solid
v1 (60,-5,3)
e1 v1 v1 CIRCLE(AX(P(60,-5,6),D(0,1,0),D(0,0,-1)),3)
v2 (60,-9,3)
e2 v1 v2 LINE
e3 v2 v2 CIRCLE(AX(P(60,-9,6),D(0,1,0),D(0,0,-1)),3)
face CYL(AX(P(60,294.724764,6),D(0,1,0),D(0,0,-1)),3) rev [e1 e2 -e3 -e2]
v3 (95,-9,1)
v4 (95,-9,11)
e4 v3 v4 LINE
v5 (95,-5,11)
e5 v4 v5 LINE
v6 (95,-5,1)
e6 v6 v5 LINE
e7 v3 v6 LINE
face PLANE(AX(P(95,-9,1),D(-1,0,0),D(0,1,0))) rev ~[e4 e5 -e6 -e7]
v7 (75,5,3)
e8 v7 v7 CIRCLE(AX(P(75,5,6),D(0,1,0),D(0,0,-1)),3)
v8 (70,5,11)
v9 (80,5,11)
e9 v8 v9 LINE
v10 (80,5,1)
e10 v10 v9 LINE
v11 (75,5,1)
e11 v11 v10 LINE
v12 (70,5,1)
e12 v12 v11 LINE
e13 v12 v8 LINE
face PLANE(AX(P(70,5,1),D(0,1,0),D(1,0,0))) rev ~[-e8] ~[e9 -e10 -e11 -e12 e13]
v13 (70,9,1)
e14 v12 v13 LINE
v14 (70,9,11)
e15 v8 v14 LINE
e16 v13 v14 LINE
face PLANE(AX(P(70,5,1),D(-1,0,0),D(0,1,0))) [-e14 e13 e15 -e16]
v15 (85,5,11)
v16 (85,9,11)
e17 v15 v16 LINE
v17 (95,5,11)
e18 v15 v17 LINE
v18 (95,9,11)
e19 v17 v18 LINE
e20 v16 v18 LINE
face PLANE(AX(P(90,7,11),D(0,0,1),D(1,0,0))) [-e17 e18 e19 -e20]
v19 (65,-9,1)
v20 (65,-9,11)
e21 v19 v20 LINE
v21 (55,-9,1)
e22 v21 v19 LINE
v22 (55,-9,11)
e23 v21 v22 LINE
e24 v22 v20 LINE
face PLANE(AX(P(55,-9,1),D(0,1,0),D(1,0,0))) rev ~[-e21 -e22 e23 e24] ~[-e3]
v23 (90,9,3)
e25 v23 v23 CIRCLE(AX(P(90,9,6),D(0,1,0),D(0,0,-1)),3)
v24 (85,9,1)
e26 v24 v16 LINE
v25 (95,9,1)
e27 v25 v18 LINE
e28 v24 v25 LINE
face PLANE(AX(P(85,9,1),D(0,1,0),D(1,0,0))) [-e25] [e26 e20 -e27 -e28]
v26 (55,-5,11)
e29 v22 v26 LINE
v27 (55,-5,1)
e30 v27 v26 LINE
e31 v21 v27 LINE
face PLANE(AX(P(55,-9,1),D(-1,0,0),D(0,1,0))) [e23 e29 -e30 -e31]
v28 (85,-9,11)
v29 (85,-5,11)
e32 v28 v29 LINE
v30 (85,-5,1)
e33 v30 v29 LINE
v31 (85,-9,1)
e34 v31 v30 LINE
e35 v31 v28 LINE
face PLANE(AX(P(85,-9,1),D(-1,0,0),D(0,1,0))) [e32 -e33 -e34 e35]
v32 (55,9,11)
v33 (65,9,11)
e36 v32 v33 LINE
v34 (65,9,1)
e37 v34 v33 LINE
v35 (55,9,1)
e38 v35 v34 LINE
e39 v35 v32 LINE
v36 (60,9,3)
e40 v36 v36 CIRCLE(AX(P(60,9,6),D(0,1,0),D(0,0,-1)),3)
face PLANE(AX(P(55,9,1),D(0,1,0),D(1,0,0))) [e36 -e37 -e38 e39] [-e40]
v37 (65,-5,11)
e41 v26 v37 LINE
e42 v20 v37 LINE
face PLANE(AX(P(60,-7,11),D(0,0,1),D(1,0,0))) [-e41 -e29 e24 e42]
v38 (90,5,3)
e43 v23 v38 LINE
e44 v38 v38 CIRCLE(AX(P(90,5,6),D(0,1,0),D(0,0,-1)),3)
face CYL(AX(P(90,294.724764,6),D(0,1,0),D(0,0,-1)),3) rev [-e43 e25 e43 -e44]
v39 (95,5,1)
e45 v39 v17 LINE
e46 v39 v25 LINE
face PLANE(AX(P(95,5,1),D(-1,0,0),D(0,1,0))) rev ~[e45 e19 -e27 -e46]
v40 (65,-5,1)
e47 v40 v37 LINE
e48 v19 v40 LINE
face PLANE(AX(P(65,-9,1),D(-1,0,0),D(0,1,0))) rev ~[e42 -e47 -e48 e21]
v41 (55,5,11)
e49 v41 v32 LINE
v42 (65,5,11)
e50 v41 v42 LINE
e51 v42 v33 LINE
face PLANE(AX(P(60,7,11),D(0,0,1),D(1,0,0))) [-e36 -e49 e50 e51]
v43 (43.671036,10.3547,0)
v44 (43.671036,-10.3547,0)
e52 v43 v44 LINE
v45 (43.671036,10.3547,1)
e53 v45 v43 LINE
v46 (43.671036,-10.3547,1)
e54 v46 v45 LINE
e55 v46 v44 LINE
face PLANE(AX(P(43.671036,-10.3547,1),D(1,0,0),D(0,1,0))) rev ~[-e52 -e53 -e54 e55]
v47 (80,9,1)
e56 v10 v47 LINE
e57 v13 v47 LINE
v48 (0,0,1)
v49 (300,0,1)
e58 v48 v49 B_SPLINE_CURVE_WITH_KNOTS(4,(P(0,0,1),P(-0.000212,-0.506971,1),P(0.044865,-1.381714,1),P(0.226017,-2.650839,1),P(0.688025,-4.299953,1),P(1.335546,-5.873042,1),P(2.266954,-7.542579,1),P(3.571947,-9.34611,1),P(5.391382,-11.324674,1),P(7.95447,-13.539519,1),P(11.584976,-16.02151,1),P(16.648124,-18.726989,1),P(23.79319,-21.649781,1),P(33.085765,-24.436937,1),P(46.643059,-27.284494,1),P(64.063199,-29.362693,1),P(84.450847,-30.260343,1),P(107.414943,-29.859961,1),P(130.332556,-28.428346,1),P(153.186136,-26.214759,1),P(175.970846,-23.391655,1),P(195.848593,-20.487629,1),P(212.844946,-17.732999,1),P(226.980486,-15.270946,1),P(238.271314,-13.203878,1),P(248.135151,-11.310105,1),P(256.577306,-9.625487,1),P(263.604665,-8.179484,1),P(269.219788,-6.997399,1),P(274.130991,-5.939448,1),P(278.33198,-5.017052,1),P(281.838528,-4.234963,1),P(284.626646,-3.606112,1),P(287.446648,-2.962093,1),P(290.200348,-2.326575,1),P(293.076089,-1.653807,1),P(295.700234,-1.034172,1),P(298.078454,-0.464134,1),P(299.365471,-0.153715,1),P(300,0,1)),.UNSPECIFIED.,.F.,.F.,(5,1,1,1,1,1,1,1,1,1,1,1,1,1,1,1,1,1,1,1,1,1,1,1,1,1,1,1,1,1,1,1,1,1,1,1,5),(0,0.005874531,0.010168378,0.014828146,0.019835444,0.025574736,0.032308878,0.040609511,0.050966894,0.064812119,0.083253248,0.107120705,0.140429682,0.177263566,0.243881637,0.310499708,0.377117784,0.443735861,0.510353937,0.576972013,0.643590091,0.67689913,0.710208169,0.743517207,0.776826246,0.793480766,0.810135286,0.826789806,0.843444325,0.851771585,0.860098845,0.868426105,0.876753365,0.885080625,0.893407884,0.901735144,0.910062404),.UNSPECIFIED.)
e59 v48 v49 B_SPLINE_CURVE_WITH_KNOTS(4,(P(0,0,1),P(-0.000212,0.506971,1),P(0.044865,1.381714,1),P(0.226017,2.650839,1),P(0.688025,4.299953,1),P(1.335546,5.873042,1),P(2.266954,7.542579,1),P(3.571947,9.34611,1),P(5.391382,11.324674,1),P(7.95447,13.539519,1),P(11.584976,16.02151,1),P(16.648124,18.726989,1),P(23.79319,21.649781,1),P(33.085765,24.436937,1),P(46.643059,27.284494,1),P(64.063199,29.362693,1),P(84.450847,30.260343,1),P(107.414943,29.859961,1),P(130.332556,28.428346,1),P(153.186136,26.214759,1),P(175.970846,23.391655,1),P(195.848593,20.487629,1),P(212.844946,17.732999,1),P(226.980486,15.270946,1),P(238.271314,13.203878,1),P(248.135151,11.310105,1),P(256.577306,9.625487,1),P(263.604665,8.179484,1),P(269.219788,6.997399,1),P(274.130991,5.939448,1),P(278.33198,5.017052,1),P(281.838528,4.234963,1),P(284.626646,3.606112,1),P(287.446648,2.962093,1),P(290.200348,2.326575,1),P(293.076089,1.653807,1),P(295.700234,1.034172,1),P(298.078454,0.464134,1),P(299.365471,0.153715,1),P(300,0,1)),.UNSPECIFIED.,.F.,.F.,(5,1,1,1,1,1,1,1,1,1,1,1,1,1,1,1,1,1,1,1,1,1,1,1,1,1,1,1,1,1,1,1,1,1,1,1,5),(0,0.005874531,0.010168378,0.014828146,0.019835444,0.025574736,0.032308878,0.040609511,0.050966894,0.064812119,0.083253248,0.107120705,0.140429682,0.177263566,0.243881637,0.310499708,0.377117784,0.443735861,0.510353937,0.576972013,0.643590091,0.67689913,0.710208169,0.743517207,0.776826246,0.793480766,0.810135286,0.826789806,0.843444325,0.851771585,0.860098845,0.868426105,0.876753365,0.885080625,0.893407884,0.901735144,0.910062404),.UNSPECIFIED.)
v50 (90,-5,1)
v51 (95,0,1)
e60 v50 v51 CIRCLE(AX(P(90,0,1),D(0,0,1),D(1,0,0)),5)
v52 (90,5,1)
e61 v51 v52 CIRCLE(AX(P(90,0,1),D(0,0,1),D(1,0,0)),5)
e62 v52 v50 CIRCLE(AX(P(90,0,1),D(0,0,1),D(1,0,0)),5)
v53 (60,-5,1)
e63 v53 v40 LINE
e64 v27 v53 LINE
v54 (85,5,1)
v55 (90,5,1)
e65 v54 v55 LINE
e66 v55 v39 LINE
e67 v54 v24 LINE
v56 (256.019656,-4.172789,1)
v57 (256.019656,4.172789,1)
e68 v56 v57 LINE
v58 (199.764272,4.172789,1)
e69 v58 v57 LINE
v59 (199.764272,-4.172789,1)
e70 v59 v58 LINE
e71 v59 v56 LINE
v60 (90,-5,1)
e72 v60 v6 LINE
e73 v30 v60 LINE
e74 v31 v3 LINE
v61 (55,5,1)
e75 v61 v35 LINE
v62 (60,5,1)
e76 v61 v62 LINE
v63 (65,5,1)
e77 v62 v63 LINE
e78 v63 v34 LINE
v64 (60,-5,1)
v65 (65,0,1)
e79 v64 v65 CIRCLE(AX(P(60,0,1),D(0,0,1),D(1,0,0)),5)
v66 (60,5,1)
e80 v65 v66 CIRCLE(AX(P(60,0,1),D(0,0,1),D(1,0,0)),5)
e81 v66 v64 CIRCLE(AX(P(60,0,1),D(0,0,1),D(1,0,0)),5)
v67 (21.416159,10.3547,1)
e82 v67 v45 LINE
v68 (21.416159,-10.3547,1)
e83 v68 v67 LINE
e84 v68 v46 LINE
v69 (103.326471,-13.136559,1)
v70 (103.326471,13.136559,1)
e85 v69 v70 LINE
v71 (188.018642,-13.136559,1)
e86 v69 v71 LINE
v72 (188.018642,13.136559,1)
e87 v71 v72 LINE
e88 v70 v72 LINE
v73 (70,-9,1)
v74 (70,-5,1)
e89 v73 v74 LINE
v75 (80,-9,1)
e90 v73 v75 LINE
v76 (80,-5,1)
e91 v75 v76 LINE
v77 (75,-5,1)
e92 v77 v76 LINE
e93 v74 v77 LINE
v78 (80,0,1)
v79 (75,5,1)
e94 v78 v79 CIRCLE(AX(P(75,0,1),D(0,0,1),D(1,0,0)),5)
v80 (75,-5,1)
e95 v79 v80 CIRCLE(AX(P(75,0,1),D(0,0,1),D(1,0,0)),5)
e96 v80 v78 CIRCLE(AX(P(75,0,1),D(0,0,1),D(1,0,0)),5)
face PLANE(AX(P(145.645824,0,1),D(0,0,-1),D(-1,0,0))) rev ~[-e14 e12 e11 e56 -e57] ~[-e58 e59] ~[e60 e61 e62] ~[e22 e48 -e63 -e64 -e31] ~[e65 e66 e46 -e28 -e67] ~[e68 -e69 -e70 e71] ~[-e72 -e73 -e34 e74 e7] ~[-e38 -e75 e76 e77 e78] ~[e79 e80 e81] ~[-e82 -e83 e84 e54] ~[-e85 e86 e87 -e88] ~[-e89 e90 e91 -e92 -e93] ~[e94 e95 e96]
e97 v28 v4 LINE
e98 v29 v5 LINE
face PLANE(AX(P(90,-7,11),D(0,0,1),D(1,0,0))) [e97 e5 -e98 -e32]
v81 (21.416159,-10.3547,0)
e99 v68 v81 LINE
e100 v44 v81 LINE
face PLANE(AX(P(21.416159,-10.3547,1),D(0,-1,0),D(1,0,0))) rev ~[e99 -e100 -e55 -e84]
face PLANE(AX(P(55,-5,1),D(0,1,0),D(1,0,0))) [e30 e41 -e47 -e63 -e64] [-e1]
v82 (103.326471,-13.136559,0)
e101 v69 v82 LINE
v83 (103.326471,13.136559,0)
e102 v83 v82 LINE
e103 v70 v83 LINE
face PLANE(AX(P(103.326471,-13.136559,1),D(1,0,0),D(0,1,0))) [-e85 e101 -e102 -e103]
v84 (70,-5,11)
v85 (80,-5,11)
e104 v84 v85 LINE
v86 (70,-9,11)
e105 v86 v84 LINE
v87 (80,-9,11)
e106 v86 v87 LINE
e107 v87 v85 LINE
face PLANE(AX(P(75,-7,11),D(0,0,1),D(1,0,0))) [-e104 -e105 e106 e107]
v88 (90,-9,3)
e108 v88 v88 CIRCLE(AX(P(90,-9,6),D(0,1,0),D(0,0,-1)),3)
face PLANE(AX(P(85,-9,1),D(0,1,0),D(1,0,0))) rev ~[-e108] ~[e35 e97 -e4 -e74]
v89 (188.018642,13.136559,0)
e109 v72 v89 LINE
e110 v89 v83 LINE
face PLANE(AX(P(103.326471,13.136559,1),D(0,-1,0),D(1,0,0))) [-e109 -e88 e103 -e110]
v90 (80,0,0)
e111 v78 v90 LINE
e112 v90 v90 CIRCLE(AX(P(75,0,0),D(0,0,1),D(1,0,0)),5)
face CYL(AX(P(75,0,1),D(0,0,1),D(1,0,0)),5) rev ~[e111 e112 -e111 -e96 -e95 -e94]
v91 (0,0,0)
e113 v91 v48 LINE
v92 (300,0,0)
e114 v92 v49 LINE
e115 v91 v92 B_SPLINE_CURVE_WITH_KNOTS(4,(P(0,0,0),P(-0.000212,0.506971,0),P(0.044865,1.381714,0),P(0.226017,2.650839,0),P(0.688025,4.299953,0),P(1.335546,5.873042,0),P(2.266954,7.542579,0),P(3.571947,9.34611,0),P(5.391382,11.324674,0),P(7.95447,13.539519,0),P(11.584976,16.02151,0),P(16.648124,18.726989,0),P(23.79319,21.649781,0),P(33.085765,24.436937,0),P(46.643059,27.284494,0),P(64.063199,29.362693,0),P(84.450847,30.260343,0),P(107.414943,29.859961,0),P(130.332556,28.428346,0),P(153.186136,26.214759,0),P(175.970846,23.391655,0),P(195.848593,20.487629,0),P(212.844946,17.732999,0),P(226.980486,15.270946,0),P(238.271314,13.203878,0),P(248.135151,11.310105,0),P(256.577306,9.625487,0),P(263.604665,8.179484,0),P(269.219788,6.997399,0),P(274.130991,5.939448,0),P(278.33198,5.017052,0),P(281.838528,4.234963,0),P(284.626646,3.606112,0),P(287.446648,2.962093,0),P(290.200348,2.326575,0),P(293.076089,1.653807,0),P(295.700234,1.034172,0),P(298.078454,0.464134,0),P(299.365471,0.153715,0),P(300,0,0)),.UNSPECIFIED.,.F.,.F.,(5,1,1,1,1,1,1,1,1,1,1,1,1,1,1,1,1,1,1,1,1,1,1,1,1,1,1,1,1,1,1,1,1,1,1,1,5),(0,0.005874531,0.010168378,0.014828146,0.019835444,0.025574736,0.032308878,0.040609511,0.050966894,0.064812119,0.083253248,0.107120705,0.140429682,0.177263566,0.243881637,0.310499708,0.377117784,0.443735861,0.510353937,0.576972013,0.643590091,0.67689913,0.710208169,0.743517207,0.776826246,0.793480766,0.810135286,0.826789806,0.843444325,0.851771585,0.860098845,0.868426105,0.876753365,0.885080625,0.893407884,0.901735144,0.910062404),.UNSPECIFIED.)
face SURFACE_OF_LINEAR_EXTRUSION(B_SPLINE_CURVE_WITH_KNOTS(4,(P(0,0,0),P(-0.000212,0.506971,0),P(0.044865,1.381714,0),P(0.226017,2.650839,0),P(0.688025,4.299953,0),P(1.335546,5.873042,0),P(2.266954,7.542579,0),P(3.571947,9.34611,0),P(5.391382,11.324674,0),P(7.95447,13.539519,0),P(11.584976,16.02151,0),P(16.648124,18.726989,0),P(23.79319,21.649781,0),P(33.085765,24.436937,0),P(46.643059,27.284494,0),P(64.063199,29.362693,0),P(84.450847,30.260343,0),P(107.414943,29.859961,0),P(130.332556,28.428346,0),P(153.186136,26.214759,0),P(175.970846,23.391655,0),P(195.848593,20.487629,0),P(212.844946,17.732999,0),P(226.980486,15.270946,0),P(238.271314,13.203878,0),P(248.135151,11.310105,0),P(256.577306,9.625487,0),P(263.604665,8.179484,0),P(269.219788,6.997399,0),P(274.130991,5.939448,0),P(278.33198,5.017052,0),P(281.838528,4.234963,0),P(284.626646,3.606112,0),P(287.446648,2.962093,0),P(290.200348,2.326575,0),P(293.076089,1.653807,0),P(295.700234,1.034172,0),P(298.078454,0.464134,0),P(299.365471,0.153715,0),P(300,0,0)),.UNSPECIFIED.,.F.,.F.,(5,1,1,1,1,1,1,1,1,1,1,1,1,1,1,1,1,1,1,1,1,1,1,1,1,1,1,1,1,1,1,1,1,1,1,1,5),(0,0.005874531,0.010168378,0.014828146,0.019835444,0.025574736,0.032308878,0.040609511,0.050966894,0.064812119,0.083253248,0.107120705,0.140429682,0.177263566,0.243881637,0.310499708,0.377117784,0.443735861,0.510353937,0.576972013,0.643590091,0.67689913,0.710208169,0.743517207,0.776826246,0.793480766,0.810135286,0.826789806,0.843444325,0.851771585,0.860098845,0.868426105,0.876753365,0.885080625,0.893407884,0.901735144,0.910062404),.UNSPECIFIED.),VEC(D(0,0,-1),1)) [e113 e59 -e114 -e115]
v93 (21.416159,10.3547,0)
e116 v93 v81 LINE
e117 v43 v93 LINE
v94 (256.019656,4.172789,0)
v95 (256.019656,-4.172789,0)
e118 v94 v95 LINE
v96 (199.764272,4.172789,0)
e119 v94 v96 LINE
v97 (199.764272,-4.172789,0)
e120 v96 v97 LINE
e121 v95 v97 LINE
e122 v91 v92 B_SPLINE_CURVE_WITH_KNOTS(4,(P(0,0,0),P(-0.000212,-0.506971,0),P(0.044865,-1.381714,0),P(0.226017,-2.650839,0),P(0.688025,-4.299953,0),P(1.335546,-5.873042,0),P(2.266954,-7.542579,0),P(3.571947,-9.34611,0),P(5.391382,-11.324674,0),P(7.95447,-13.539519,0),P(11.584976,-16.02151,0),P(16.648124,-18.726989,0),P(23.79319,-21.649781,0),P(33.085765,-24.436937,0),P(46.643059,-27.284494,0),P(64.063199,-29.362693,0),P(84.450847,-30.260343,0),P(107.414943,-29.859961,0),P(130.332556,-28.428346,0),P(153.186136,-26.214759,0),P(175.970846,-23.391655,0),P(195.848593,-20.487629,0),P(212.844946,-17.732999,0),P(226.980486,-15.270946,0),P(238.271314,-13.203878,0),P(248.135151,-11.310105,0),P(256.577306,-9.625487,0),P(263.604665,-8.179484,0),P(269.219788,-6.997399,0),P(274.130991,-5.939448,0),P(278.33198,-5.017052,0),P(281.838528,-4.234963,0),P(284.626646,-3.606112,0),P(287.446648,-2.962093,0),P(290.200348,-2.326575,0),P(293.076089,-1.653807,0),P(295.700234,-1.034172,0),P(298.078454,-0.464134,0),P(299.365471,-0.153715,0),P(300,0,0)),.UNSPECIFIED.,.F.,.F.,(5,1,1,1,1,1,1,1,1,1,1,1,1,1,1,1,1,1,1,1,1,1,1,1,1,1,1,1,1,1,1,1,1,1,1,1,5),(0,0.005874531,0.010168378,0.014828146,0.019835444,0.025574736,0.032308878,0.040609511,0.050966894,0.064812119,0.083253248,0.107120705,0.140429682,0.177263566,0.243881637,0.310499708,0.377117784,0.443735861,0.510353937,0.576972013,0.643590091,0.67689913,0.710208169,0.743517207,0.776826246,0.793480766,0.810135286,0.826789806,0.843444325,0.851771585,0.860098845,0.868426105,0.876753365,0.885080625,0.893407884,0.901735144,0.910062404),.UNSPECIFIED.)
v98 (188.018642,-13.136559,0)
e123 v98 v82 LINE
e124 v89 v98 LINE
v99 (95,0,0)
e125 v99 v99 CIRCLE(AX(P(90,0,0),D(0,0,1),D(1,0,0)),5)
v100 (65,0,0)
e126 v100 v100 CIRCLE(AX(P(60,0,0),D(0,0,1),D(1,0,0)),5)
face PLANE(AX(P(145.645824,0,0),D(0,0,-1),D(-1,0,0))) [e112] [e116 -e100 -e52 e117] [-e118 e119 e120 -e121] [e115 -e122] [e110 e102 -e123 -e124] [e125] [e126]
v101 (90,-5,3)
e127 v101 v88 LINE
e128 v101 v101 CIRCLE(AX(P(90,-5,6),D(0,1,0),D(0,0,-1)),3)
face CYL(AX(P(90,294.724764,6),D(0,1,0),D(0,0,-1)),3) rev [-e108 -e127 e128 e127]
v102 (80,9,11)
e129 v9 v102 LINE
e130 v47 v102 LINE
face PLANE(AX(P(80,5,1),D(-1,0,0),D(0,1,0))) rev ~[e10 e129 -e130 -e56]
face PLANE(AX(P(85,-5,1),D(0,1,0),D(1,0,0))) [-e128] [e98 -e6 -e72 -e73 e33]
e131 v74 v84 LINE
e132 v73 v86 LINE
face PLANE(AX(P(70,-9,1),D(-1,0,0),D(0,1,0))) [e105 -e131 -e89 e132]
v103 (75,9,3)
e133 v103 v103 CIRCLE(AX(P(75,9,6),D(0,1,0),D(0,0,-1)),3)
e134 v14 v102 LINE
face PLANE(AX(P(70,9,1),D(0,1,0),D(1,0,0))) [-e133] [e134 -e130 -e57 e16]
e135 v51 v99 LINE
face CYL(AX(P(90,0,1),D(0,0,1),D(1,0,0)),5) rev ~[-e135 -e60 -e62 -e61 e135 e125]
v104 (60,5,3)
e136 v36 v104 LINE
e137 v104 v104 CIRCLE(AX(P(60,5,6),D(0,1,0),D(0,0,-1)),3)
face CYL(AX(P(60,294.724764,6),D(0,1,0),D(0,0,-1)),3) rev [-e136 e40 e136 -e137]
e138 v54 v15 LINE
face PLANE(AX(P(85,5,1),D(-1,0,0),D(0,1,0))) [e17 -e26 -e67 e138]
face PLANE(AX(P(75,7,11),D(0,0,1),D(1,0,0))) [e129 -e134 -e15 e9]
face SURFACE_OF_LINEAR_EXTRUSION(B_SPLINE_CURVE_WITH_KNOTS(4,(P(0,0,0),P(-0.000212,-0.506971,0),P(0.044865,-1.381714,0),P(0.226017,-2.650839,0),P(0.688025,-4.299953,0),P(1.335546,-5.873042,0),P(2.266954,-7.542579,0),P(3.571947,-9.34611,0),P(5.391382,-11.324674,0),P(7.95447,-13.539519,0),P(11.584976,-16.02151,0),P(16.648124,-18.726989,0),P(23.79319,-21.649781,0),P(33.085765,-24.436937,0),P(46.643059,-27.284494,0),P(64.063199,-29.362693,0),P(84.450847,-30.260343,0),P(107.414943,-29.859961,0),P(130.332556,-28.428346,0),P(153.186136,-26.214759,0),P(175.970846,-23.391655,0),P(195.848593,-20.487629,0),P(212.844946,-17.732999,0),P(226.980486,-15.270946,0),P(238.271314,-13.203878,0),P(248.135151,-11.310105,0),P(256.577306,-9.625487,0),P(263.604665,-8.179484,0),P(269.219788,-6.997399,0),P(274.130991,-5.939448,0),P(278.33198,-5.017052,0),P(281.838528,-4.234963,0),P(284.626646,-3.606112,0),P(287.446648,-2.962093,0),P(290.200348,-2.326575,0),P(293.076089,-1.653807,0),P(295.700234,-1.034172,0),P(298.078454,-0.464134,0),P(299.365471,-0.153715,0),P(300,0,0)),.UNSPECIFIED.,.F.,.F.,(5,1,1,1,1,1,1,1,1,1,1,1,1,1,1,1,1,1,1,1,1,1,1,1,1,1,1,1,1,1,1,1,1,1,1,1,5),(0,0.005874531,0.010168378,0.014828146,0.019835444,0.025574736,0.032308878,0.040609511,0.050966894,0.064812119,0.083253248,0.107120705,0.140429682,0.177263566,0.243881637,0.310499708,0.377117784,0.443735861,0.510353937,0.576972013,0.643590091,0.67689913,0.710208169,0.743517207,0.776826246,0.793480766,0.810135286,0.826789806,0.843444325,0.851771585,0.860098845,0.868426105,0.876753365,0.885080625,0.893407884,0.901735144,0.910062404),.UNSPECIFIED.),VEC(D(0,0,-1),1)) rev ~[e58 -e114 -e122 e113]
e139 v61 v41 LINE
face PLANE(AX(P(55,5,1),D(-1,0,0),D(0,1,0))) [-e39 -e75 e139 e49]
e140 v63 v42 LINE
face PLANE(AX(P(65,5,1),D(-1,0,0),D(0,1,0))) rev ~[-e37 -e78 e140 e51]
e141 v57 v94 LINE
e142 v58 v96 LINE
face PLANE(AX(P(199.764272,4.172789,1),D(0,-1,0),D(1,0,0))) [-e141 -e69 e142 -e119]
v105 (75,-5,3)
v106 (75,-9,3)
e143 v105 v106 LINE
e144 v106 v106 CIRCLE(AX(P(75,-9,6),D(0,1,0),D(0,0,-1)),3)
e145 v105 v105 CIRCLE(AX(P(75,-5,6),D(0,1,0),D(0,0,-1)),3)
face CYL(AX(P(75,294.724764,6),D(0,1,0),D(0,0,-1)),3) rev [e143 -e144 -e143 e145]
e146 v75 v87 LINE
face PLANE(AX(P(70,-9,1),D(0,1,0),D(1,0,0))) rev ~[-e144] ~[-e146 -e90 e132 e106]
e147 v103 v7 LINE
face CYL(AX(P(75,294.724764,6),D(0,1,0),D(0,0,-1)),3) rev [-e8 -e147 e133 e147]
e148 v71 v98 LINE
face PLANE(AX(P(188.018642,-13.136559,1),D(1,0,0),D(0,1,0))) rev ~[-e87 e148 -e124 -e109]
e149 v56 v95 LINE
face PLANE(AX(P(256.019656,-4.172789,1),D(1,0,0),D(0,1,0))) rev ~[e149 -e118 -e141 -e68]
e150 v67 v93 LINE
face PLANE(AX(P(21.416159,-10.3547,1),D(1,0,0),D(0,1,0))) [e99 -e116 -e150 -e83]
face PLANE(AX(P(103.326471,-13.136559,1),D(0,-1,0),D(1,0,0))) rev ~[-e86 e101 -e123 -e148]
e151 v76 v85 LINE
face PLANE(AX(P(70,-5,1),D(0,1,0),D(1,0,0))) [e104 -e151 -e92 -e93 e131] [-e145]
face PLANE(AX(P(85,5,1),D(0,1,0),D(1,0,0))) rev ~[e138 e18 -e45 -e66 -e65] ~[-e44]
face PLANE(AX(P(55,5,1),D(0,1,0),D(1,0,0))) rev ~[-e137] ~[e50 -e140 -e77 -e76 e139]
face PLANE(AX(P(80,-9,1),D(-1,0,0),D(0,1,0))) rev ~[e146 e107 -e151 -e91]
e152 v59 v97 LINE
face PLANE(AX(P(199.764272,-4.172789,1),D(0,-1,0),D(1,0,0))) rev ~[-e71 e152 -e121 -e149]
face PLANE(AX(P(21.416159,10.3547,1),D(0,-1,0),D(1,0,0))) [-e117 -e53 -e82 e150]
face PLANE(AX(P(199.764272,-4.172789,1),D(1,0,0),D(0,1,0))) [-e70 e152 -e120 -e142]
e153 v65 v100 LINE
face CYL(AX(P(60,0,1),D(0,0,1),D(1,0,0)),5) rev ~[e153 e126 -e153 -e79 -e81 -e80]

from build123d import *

# Parameters (mm, degrees)
EXTRUDE_1_DEPTH          = 1
SKETCH_2_R               = 5
CUT_EXTRUDE_2_DEPTH      = 302.498287555
SKETCH_7_W               = 10
SKETCH_7_H               = 4
EXTRUDE_2_DEPTH          = 10
CUT_EXTRUDE_3_DEPTH      = 303.724763765
CUT_EXTRUDE_3_DEPTH_BACK = 303.724763765
SKETCH_8_R               = 3
SKETCH_9_W               = 84.692171331
SKETCH_9_H               = 26.273118844
SKETCH_9_W_2             = 56.255383877
SKETCH_9_H_2             = 8.345578926
SKETCH_9_W_3             = 22.254877138
SKETCH_9_H_3             = 20.70939956
CUT_EXTRUDE_4_DEPTH      = 302.662422914


with BuildPart() as part:
    # 草图1 → 凸台-拉伸1 (new body)
    with BuildSketch(Plane.XY):
        with BuildLine():
            add(Edge.make_bspline(
                [(0, 0), (-0.00021229, 0.506970744), (0.044864754, 1.381714413), (0.226017079, 2.650839475), (0.688025344, 4.299952552), (1.335546305, 5.873041675), (2.26695445, 7.542579189), (3.571946964, 9.346109572), (5.391381815, 11.324673938), (7.954469743, 13.539518757), (11.584975672, 16.021510412), (16.648123966, 18.726988569), (23.793189999, 21.649781435), (33.085765079, 24.436937203), (46.643058908, 27.284493785), (64.063199307, 29.362693495), (84.450847037, 30.260343335), (107.414943041, 29.859960777), (130.332556147, 28.428346139), (153.186136376, 26.214758658), (175.970846287, 23.391654718), (195.848592789, 20.487628812), (212.844945694, 17.732999103), (226.980485609, 15.27094618), (238.271313866, 13.203878393), (248.135151077, 11.310105462), (256.577305747, 9.625486685), (263.604664912, 8.179483676), (269.219788458, 6.997398786), (274.1309907, 5.93944771), (278.331979904, 5.017052178), (281.838528118, 4.234963306), (284.626645762, 3.606112196), (287.446648095, 2.96209323), (290.200347561, 2.326575377), (293.076089097, 1.653806717), (295.700233888, 1.034172197), (298.078453529, 0.464134201), (299.36547076, 0.153714708), (299.999999998, 0)],
                knots=[0, 0, 0, 0, 0, 0.005874531, 0.010168378, 0.014828146, 0.019835444, 0.025574736, 0.032308878, 0.040609511, 0.050966894, 0.064812119, 0.083253248, 0.107120705, 0.140429682, 0.177263566, 0.243881637, 0.310499708, 0.377117784, 0.443735861, 0.510353937, 0.576972013, 0.643590091, 0.67689913, 0.710208169, 0.743517207, 0.776826246, 0.793480766, 0.810135286, 0.826789806, 0.843444325, 0.851771585, 0.860098845, 0.868426105, 0.876753365, 0.885080625, 0.893407884, 0.901735144, 0.910062404, 0.910062404, 0.910062404, 0.910062404, 0.910062404], degree=4))
            add(Edge.make_bspline(
                [(0, 0), (-0.00021229, -0.506970744), (0.044864754, -1.381714413), (0.226017079, -2.650839475), (0.688025344, -4.299952552), (1.335546305, -5.873041675), (2.26695445, -7.542579189), (3.571946964, -9.346109572), (5.391381815, -11.324673938), (7.954469743, -13.539518757), (11.584975672, -16.021510412), (16.648123966, -18.726988569), (23.793189999, -21.649781435), (33.085765079, -24.436937203), (46.643058908, -27.284493785), (64.063199307, -29.362693495), (84.450847037, -30.260343335), (107.414943041, -29.859960777), (130.332556147, -28.428346139), (153.186136376, -26.214758658), (175.970846287, -23.391654718), (195.848592789, -20.487628812), (212.844945694, -17.732999103), (226.980485609, -15.27094618), (238.271313866, -13.203878393), (248.135151077, -11.310105462), (256.577305747, -9.625486685), (263.604664912, -8.179483676), (269.219788458, -6.997398786), (274.1309907, -5.93944771), (278.331979904, -5.017052178), (281.838528118, -4.234963306), (284.626645762, -3.606112196), (287.446648095, -2.96209323), (290.200347561, -2.326575377), (293.076089097, -1.653806717), (295.700233888, -1.034172197), (298.078453529, -0.464134201), (299.36547076, -0.153714708), (299.999999998, 0)],
                knots=[0, 0, 0, 0, 0, 0.005874531, 0.010168378, 0.014828146, 0.019835444, 0.025574736, 0.032308878, 0.040609511, 0.050966894, 0.064812119, 0.083253248, 0.107120705, 0.140429682, 0.177263566, 0.243881637, 0.310499708, 0.377117784, 0.443735861, 0.510353937, 0.576972013, 0.643590091, 0.67689913, 0.710208169, 0.743517207, 0.776826246, 0.793480766, 0.810135286, 0.826789806, 0.843444325, 0.851771585, 0.860098845, 0.868426105, 0.876753365, 0.885080625, 0.893407884, 0.901735144, 0.910062404, 0.910062404, 0.910062404, 0.910062404, 0.910062404], degree=4))
        make_face()
    extrude(amount=EXTRUDE_1_DEPTH)

    # 草图2 → 切除-拉伸2 (cut, through all)
    with BuildSketch(Plane.XY.offset(1)):
        with Locations((60, 0)):
            Circle(SKETCH_2_R)
        with Locations((75, 0)):
            Circle(SKETCH_2_R)
        with Locations((90, 0)):
            Circle(SKETCH_2_R)
    extrude(amount=-CUT_EXTRUDE_2_DEPTH, mode=Mode.SUBTRACT)

    # 草图7 → 凸台-拉伸2 (add)
    with BuildSketch(Plane.XY.offset(1)):
        with Locations((60, 7)):
            Rectangle(SKETCH_7_W, SKETCH_7_H)
        with Locations((60, -7)):
            Rectangle(SKETCH_7_W, SKETCH_7_H)
        with Locations((75, 7)):
            Rectangle(SKETCH_7_W, SKETCH_7_H)
        with Locations((75, -7)):
            Rectangle(SKETCH_7_W, SKETCH_7_H)
        with Locations((90, 7)):
            Rectangle(SKETCH_7_W, SKETCH_7_H)
        with Locations((90, -7)):
            Rectangle(SKETCH_7_W, SKETCH_7_H)
    extrude(amount=EXTRUDE_2_DEPTH)

    # 草图8 → 切除-拉伸3 (cut, two sides: drawn at the far end of the back side and taken through both)
    with BuildSketch(Plane.XZ.offset(9).offset(-CUT_EXTRUDE_3_DEPTH_BACK)):
        with Locations(Location((90, 6, 0), (0, 0, 270))):
            Circle(SKETCH_8_R)
        with Locations(Location((75, 6, 0), (0, 0, 270))):
            Circle(SKETCH_8_R)
        with Locations(Location((60, 6, 0), (0, 0, 270))):
            Circle(SKETCH_8_R)
    extrude(amount=CUT_EXTRUDE_3_DEPTH + CUT_EXTRUDE_3_DEPTH_BACK, mode=Mode.SUBTRACT)

    # 草图9 → 切除-拉伸4 (cut, through all)
    with BuildSketch(Plane.XY.offset(1)):
        with Locations((145.672556633, 0)):
            Rectangle(SKETCH_9_W, SKETCH_9_H)
        with Locations((227.891963838, 0)):
            Rectangle(SKETCH_9_W_2, SKETCH_9_H_2)
        with Locations((32.543597847, 0)):
            Rectangle(SKETCH_9_W_3, SKETCH_9_H_3)
    extrude(amount=-CUT_EXTRUDE_4_DEPTH, mode=Mode.SUBTRACT)


solid = part.part
